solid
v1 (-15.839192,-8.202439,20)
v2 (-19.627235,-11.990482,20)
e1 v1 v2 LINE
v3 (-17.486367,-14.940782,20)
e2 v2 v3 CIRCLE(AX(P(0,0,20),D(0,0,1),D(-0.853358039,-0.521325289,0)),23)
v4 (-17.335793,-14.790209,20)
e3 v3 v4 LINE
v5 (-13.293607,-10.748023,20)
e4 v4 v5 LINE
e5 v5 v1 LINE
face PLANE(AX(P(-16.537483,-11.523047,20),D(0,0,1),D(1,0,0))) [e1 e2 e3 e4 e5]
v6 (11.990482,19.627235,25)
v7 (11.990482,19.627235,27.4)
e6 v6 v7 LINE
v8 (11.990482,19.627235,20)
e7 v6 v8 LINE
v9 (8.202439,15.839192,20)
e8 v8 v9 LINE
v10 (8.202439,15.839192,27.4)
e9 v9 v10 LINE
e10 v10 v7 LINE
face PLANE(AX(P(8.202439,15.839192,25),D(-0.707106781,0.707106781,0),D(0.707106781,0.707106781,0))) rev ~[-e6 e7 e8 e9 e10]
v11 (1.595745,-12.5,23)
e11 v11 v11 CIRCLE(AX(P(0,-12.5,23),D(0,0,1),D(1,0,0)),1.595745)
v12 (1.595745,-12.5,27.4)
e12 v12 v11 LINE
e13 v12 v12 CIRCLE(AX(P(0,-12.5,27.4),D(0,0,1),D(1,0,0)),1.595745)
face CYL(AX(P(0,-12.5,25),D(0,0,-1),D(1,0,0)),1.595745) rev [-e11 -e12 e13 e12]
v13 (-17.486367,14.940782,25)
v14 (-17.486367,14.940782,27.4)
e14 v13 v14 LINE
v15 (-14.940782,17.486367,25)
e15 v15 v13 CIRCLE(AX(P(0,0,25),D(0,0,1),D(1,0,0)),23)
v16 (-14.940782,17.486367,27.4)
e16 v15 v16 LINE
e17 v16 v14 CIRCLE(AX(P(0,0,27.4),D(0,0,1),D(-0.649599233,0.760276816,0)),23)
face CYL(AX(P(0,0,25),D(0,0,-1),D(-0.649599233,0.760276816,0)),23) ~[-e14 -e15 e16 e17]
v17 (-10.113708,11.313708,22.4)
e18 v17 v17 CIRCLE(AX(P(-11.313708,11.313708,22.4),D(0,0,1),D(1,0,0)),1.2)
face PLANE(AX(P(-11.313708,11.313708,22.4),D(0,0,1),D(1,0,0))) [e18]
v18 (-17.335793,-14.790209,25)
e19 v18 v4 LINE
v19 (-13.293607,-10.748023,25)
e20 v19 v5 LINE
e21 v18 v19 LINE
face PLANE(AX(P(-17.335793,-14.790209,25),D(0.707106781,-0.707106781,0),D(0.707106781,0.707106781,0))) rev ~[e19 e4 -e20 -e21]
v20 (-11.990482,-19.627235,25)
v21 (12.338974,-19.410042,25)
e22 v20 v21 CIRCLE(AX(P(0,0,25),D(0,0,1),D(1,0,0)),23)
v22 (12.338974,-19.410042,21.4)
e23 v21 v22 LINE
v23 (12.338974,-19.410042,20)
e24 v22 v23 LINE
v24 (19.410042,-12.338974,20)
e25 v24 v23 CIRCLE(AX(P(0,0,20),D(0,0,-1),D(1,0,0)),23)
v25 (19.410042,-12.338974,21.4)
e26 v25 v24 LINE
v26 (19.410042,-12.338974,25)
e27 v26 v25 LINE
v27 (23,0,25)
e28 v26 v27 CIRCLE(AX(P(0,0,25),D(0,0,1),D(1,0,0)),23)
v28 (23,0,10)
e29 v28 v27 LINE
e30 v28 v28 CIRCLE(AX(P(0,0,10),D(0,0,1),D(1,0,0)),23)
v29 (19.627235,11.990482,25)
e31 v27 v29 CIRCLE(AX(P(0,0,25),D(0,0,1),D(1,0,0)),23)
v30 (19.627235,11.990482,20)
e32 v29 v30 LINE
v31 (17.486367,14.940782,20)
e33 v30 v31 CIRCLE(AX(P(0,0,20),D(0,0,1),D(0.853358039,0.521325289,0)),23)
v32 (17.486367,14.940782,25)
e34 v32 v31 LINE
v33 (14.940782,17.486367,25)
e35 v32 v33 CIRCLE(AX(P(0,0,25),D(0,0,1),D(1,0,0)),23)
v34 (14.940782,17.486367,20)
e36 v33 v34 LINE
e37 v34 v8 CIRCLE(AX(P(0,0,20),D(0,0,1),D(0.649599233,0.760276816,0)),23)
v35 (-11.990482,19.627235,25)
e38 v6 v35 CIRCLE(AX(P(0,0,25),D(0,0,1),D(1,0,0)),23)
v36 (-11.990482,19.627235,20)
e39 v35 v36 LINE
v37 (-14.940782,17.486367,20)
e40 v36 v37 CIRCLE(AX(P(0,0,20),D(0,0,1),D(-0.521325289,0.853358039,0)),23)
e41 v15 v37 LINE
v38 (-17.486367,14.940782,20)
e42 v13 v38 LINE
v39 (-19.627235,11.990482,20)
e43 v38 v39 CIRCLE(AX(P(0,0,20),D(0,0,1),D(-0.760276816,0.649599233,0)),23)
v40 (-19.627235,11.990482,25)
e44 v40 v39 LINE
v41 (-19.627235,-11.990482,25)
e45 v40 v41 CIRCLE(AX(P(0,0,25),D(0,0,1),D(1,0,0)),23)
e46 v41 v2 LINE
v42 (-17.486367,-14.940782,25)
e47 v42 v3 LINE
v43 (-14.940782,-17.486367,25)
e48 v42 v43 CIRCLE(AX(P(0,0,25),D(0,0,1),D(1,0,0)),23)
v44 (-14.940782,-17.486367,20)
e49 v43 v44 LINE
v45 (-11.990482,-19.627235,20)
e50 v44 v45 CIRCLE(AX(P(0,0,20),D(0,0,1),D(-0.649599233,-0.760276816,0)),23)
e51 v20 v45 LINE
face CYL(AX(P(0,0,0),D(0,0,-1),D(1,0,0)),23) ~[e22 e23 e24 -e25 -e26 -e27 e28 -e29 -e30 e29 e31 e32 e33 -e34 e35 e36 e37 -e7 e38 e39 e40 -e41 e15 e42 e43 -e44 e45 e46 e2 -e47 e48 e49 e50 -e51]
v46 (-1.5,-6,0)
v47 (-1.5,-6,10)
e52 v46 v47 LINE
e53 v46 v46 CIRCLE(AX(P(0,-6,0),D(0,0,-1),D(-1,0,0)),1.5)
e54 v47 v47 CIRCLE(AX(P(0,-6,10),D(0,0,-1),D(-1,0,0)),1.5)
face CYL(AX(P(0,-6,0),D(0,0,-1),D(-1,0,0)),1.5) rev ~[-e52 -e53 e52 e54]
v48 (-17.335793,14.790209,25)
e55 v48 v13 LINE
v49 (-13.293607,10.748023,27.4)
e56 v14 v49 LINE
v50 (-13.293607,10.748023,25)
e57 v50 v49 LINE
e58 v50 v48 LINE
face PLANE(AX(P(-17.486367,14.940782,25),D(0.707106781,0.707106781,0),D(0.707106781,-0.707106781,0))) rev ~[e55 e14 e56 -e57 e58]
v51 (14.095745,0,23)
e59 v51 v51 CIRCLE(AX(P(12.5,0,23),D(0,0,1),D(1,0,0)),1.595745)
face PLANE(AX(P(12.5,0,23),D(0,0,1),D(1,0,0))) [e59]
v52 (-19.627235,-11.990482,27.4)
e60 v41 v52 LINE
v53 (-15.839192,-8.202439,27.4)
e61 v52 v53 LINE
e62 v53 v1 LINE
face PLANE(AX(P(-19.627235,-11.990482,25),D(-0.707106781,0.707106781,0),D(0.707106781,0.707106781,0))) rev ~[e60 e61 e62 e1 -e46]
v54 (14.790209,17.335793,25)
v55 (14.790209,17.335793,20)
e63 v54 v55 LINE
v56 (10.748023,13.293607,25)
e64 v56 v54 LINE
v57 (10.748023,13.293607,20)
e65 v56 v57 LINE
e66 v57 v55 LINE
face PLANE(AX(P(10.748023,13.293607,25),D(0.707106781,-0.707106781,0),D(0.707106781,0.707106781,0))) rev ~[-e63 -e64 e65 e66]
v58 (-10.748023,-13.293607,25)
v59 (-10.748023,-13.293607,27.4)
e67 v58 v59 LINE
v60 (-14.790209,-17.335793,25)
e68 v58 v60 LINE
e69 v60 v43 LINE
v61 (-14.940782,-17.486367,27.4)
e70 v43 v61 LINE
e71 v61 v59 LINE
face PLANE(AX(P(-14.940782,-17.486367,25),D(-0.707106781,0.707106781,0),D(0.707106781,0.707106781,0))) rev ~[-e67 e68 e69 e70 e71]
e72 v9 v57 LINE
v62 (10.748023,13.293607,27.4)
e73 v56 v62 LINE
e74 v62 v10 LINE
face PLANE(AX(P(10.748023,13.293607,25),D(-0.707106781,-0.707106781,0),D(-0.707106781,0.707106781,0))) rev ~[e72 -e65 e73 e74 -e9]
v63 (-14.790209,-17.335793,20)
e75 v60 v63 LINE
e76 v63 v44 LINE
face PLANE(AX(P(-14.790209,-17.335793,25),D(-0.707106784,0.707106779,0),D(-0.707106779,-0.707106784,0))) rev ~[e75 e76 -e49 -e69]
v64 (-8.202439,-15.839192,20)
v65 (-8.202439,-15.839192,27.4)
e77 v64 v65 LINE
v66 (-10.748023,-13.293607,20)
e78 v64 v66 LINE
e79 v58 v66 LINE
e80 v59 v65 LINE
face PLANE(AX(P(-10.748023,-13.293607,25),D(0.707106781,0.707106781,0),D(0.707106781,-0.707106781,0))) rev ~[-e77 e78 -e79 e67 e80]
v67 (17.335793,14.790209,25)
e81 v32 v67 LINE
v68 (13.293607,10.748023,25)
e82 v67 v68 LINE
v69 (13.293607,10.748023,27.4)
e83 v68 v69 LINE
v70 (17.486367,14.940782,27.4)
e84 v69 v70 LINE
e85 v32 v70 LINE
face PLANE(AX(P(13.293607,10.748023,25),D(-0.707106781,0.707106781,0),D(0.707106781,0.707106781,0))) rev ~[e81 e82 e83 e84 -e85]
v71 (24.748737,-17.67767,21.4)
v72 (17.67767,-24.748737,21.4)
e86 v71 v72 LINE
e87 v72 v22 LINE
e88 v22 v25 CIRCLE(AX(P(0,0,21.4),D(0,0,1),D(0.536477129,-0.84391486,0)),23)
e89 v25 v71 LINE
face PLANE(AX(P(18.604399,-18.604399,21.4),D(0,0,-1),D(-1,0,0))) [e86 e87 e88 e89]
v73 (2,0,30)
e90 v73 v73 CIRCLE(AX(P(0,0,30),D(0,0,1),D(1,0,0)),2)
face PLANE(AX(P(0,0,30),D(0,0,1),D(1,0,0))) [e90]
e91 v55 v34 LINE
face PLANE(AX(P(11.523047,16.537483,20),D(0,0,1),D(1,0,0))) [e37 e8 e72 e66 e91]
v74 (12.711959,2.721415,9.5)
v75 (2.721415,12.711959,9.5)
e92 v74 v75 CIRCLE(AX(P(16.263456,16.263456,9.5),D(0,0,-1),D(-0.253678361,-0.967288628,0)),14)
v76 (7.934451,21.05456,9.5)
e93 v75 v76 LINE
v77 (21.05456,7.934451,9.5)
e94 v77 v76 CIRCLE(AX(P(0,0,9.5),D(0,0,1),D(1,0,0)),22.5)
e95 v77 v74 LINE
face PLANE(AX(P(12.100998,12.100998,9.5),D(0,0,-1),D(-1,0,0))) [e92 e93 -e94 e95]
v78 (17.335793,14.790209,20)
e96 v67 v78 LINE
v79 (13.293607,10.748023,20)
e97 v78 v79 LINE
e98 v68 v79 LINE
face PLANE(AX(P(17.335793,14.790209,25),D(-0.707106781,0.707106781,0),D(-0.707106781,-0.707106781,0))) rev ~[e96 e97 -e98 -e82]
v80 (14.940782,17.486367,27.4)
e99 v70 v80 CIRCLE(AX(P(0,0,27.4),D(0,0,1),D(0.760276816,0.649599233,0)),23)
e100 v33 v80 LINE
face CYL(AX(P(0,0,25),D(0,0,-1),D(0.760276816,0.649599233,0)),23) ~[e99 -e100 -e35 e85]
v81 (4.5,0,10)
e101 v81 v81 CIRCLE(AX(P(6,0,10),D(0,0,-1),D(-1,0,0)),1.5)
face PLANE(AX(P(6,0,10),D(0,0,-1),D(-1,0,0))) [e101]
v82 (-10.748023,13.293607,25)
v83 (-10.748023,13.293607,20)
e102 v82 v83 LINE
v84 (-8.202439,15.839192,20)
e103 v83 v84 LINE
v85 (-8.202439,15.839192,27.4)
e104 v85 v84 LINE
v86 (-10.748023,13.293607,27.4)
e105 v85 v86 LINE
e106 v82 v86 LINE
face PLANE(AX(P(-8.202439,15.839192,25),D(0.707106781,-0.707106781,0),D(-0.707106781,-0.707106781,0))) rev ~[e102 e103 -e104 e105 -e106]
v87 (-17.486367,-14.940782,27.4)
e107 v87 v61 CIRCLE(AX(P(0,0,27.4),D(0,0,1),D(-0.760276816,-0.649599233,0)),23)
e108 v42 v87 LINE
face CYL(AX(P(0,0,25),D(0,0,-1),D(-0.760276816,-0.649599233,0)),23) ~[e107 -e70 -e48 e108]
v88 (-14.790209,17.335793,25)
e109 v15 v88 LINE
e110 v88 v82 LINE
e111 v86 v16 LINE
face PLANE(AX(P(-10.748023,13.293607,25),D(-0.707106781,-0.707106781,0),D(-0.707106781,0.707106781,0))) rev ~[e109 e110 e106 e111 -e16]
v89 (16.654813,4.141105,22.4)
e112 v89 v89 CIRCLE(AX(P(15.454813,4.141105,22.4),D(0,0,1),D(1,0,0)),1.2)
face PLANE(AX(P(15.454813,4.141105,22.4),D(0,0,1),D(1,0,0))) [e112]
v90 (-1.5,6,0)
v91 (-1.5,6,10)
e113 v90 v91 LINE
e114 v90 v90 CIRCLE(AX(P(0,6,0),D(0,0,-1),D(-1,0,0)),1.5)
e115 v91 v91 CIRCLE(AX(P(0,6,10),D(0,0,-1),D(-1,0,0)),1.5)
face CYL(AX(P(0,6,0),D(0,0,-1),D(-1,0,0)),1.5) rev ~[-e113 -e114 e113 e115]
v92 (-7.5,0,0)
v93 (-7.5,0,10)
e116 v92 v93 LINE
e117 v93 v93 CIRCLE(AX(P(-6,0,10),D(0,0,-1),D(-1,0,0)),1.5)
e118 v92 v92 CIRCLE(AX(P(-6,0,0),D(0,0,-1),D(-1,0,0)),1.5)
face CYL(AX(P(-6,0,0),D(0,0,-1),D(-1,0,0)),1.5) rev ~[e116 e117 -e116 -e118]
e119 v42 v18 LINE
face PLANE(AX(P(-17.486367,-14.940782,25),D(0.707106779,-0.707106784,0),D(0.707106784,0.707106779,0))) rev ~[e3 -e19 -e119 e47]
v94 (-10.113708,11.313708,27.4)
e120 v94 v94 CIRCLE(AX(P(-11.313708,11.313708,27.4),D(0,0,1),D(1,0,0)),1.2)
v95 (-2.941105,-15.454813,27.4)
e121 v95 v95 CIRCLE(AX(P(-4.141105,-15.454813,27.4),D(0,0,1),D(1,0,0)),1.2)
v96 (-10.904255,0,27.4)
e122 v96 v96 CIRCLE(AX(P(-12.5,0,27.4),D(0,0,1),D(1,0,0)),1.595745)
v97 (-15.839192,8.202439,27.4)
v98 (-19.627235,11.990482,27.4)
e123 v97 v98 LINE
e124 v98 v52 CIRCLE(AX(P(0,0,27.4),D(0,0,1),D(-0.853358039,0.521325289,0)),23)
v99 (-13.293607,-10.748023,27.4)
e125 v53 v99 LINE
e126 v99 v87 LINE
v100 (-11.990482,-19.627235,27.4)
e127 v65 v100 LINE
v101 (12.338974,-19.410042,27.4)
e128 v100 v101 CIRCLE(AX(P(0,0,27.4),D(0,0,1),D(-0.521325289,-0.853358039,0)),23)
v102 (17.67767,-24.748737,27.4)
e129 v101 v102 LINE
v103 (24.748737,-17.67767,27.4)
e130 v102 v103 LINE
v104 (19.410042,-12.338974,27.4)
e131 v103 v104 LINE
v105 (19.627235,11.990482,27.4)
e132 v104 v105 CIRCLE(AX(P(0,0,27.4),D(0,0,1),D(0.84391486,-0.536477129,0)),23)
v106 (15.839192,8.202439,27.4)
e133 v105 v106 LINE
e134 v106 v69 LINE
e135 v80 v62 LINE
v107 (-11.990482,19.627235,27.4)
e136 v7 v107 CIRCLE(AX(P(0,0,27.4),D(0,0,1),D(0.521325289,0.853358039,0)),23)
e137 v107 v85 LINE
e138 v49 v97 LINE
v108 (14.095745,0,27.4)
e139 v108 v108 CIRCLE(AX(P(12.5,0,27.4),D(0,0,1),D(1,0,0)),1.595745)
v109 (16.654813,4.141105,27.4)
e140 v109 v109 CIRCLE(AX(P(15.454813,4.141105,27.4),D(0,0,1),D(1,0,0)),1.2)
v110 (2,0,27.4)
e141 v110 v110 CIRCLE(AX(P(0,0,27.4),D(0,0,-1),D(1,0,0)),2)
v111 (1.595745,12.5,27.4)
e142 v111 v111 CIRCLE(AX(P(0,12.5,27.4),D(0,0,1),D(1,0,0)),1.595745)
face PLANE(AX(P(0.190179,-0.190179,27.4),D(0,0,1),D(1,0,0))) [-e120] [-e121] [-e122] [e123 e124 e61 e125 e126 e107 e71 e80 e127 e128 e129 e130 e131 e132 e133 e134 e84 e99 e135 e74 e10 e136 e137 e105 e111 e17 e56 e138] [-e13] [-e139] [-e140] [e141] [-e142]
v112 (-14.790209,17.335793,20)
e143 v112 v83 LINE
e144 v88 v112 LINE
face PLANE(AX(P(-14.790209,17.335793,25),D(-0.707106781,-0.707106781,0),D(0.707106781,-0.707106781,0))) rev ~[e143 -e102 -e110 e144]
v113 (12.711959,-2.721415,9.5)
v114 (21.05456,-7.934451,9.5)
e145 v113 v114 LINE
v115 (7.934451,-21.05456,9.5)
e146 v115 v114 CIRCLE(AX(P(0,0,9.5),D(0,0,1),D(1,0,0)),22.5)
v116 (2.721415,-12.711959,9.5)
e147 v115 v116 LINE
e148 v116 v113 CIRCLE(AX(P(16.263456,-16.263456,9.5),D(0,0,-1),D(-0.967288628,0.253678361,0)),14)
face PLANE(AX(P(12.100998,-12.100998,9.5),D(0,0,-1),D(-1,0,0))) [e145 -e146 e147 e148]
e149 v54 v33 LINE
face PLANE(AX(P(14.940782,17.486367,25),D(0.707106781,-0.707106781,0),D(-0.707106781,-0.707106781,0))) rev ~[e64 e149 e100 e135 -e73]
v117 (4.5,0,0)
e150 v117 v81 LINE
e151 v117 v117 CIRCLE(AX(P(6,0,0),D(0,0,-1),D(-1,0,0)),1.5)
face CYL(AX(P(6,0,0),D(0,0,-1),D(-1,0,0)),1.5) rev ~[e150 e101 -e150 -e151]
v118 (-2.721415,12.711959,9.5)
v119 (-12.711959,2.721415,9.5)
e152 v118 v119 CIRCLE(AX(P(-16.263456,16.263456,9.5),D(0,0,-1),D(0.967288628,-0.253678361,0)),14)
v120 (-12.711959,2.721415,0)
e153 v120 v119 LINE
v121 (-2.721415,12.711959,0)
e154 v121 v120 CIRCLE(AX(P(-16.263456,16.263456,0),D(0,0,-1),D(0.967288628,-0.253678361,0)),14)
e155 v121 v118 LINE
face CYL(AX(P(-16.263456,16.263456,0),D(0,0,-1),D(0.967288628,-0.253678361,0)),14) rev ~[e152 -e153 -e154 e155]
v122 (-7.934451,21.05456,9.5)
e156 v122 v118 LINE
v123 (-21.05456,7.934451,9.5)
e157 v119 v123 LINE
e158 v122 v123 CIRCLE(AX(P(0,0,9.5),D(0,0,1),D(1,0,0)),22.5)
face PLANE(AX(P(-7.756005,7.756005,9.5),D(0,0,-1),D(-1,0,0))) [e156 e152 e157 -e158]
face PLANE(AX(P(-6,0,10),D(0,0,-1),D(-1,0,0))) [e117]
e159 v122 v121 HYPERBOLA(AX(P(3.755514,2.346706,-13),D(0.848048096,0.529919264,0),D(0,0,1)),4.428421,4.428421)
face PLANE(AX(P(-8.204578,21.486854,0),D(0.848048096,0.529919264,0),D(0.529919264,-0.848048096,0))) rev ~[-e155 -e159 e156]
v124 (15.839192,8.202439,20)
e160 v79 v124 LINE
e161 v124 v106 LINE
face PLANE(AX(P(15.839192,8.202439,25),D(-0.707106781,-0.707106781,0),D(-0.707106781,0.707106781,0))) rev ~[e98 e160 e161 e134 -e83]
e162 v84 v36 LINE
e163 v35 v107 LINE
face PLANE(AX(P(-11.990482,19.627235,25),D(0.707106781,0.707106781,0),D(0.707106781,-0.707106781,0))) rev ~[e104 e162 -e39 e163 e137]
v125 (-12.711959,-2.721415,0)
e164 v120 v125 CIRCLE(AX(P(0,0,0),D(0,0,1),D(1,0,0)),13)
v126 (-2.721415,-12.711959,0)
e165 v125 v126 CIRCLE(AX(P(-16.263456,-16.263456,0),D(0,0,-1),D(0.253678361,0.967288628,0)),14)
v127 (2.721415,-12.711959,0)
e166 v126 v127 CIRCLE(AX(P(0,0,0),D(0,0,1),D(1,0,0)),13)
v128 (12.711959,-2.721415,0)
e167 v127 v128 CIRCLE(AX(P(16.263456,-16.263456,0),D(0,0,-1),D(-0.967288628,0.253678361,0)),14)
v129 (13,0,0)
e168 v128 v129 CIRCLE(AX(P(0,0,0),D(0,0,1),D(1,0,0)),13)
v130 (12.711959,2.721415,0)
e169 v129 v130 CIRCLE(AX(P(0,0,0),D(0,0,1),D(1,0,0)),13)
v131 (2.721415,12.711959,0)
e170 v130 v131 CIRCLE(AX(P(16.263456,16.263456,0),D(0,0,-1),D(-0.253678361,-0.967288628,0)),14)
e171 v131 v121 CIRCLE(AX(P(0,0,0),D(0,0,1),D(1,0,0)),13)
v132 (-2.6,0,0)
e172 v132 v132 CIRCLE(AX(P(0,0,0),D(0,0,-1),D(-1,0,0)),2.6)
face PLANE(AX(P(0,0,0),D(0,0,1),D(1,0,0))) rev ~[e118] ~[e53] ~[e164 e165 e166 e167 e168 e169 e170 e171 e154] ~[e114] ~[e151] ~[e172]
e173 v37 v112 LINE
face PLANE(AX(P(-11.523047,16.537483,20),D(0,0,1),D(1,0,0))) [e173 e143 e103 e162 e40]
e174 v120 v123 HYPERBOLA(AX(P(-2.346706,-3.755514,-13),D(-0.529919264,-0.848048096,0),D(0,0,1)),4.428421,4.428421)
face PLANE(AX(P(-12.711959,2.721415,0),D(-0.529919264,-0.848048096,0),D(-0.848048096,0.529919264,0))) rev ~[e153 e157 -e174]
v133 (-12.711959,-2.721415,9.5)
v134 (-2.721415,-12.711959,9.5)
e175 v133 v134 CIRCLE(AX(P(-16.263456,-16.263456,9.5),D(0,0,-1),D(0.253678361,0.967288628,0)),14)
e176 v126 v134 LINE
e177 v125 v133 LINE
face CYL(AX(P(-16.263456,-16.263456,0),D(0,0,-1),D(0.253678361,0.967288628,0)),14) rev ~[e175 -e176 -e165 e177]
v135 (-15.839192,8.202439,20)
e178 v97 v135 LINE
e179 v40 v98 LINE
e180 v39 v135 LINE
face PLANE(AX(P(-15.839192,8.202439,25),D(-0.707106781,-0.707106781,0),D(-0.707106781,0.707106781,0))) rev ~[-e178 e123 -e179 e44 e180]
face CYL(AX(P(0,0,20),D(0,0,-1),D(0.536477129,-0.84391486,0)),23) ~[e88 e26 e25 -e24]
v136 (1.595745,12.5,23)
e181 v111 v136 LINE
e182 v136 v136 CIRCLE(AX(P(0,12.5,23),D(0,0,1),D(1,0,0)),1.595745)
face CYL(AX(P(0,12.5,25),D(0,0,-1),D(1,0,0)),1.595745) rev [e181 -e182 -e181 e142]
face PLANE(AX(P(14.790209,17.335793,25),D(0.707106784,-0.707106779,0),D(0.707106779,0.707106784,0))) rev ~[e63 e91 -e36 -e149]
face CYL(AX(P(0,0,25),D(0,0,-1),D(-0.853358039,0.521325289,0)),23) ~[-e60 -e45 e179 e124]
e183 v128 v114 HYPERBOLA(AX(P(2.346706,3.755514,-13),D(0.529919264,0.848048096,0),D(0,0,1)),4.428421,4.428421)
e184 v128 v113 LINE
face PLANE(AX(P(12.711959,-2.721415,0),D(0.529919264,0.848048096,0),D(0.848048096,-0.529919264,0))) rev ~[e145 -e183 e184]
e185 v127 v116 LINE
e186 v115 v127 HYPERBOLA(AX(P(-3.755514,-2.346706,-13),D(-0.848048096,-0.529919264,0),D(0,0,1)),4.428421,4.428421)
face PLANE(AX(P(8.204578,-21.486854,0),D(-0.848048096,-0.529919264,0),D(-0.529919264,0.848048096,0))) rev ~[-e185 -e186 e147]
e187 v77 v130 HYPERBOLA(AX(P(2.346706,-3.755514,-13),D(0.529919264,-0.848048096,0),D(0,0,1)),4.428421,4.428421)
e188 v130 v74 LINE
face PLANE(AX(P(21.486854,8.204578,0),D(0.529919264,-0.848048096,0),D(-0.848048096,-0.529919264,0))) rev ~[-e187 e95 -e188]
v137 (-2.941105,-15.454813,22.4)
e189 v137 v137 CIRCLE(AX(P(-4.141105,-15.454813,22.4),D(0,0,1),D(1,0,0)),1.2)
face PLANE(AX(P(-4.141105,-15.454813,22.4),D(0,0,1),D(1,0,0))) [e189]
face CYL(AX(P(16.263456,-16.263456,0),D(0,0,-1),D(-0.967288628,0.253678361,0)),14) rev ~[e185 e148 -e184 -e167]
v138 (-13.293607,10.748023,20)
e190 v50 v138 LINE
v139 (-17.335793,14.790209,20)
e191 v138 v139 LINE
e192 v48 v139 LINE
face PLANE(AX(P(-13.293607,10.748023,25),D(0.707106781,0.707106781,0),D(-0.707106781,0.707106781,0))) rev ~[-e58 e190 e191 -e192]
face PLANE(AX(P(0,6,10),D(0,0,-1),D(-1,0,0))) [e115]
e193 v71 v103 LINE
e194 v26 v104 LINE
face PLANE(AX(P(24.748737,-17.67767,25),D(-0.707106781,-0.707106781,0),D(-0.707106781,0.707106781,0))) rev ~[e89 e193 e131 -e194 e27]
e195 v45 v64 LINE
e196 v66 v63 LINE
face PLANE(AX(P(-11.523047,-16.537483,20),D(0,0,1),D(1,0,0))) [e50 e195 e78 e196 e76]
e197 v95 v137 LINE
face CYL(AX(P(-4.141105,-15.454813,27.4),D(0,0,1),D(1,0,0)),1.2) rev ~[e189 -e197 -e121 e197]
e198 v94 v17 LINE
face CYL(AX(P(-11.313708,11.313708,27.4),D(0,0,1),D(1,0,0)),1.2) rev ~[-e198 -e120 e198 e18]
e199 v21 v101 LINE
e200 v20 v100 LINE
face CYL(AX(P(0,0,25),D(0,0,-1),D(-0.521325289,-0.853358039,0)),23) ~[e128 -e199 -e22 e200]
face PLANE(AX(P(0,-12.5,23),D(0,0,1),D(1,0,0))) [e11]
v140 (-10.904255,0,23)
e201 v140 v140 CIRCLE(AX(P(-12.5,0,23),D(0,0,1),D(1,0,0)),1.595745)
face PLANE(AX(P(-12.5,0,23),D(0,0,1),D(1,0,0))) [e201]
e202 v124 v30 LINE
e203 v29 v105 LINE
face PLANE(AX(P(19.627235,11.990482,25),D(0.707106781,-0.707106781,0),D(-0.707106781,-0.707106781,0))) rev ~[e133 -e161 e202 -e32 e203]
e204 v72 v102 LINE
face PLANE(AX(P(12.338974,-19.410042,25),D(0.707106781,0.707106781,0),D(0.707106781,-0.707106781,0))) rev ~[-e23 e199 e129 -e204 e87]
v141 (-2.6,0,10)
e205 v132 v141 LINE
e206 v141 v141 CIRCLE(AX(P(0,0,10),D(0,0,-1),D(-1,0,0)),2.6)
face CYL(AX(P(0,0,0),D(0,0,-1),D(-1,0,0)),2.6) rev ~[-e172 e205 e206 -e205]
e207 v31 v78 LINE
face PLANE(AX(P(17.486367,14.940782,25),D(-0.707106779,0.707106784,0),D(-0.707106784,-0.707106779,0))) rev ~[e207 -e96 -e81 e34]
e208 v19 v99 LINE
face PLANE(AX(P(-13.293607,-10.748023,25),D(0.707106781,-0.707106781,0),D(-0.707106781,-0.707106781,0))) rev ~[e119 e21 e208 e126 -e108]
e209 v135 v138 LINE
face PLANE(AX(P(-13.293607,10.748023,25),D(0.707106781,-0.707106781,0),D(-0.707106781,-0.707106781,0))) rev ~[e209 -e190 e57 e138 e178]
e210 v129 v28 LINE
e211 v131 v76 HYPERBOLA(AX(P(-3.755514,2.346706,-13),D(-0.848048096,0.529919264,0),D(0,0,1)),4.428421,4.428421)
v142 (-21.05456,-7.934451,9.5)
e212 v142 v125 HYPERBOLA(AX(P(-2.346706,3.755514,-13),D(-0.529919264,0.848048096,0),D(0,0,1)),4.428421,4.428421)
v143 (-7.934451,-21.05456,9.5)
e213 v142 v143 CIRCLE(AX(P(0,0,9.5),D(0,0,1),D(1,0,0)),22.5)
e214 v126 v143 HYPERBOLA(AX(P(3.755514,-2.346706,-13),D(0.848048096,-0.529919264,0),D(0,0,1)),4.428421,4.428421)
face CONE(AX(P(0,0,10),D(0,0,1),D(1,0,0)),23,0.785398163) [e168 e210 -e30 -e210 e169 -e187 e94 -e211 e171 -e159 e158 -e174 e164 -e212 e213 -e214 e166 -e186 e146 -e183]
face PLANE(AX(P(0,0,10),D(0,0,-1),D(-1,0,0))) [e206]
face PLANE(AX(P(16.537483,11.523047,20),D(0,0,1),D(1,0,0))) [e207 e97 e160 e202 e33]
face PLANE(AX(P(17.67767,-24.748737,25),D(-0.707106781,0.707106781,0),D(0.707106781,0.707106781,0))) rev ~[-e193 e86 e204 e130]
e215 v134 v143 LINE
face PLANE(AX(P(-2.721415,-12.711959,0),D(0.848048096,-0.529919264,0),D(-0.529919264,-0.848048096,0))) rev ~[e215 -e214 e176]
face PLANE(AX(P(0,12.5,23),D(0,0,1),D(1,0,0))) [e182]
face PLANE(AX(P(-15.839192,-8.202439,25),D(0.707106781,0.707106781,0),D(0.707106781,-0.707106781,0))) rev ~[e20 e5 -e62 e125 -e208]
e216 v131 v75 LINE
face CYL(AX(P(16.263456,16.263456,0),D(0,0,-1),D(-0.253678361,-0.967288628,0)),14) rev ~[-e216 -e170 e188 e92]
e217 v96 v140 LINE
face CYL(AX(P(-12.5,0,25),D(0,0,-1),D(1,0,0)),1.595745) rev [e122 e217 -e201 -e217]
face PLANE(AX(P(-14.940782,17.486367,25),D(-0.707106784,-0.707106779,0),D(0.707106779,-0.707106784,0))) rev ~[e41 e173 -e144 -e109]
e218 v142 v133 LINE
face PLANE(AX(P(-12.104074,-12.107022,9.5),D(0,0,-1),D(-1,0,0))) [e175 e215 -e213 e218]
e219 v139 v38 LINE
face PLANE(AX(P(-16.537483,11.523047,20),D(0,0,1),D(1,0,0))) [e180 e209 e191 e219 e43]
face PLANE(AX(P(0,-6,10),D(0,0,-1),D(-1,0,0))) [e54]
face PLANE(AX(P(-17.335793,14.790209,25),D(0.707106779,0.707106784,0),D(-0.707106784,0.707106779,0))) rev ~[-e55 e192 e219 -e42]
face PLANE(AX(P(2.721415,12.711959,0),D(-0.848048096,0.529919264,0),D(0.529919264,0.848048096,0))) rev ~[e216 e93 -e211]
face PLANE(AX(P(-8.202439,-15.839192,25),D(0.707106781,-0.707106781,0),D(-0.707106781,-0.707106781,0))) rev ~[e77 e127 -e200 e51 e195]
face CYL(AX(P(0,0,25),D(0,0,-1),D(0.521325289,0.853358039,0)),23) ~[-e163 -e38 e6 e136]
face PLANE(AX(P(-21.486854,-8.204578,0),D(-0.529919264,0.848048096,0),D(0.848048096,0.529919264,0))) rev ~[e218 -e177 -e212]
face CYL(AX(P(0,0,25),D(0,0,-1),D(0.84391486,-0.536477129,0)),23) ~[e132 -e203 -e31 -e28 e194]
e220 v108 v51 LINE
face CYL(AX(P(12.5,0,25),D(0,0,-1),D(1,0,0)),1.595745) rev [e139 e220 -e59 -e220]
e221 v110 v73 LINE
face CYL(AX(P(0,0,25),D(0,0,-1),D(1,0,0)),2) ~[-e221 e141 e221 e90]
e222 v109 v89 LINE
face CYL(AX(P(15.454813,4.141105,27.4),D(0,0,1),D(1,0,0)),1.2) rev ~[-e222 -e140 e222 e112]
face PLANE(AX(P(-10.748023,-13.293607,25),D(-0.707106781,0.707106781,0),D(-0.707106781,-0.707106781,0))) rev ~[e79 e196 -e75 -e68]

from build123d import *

# Parameters (mm, degrees)
SKETCH_1_R          = 23
EXTRUDE_1_DEPTH     = 25
SKETCH_2_R          = 1.5
SKETCH_2_R_2        = 2.6
CUT_EXTRUDE_1_DEPTH = 10
SKETCH_3_R          = 2.6
EXTRUDE_2_DEPTH     = 27
CHAMFER_1_SIZE      = 10
CUT_EXTRUDE_2_DEPTH = 9.5
SKETCH_5_R          = 1.595744681
CUT_EXTRUDE_3_DEPTH = 2
SKETCH_6_R          = 2.6
CUT_EXTRUDE_4_DEPTH = 12
SKETCH_7_R          = 2
EXTRUDE_3_DEPTH     = 5
EXTRUDE_4_DEPTH     = 5
CUT_EXTRUDE_5_DEPTH = 5
SKETCH_10_R         = 1.595744681
EXTRUDE_5_DEPTH     = 2.4
CUT_EXTRUDE_6_DEPTH = 1.4
SKETCH_12_R         = 1.2
CUT_EXTRUDE_7_DEPTH = 5


with BuildPart() as part:
    # 草图1 → 凸台-拉伸1 (new body)
    with BuildSketch(Plane.XY):
        Circle(SKETCH_1_R)
    extrude(amount=EXTRUDE_1_DEPTH)

    # 草图2 → 切除-拉伸1 (cut)
    with BuildSketch(Plane(origin=(0, 0, 0), x_dir=(-1, 0, 0), z_dir=(0, 0, -1))):
        with Locations((6, 0)):
            Circle(SKETCH_2_R)
        with Locations((0, -6)):
            Circle(SKETCH_2_R)
        with Locations((-6, 0)):
            Circle(SKETCH_2_R)
        with Locations((0, 6)):
            Circle(SKETCH_2_R)
        Circle(SKETCH_2_R_2)
    extrude(amount=-CUT_EXTRUDE_1_DEPTH, mode=Mode.SUBTRACT)

    # 草图3 → 凸台-拉伸2 (add)
    with BuildSketch(Plane(origin=(0, 0, 10), x_dir=(-1, 0, 0), z_dir=(0, 0, -1))):
        Circle(SKETCH_3_R)
    extrude(amount=-EXTRUDE_2_DEPTH)

    # 倒角1
    chamfer_1_edges = [part.edges().sort_by_distance(p)[0] for p in [
        (-23, 0, 0),
    ]]
    chamfer(chamfer_1_edges, length=CHAMFER_1_SIZE)

    # 草图4 → 切除-拉伸2 (cut)
    with BuildSketch(Plane(origin=(0, 0, 0), x_dir=(-1, 0, 0), z_dir=(0, 0, -1))):
        with BuildLine():
            ThreePointArc((3.800832161, -12.431961828), (3.264127324, -12.583539757), (2.72141518, -12.711958913))
            Line((2.72141518, -12.711958913), (8.204578209, -21.486854037))
            ThreePointArc((8.204578209, -21.486854037), (16.263455967, -16.263455967), (21.486854037, -8.204578209))
            Line((21.486854037, -8.204578209), (12.711958913, -2.72141518))
            ThreePointArc((12.711958913, -2.72141518), (9.578191182, -8.789667439), (3.800832161, -12.431961828))
        make_face()
        with BuildLine():
            ThreePointArc((12.711958913, -2.72141518), (6.363961031, -6.363961031), (2.72141518, -12.711958913))
            ThreePointArc((2.72141518, -12.711958913), (3.264127324, -12.583539757), (3.800832161, -12.431961828))
            ThreePointArc((3.800832161, -12.431961828), (9.578191182, -8.789667439), (12.711958913, -2.72141518))
        make_face()
        with BuildLine():
            ThreePointArc((2.72141518, 12.711958913), (6.363961031, 6.363961031), (12.711958913, 2.72141518))
            ThreePointArc((12.711958913, 2.72141518), (9.192388155, 9.192388155), (2.72141518, 12.711958913))
        make_face()
        with BuildLine():
            ThreePointArc((2.72141518, 12.711958913), (9.192388155, 9.192388155), (12.711958913, 2.72141518))
            Line((12.711958913, 2.72141518), (21.486854037, 8.204578209))
            ThreePointArc((21.486854037, 8.204578209), (16.263455967, 16.263455967), (8.204578209, 21.486854037))
            Line((8.204578209, 21.486854037), (2.72141518, 12.711958913))
        make_face()
        with BuildLine():
            Line((-21.486854037, 8.204578209), (-12.711958913, 2.72141518))
            ThreePointArc((-12.711958913, 2.72141518), (-9.192388155, 9.192388155), (-2.72141518, 12.711958913))
            Line((-2.72141518, 12.711958913), (-8.204578209, 21.486854037))
            ThreePointArc((-8.204578209, 21.486854037), (-16.263455967, 16.263455967), (-21.486854037, 8.204578209))
        make_face()
        with BuildLine():
            ThreePointArc((-2.72141518, 12.711958913), (-9.192388155, 9.192388155), (-12.711958913, 2.72141518))
            ThreePointArc((-12.711958913, 2.72141518), (-6.363961031, 6.363961031), (-2.72141518, 12.711958913))
        make_face()
        with BuildLine():
            Line((-8.204578209, -21.486854037), (-2.72141518, -12.711958913))
            ThreePointArc((-2.72141518, -12.711958913), (-9.192388155, -9.192388155), (-12.711958913, -2.72141518))
            Line((-12.711958913, -2.72141518), (-21.486854037, -8.204578209))
            ThreePointArc((-21.486854037, -8.204578209), (-16.263455967, -16.263455967), (-8.204578209, -21.486854037))
        make_face()
        with BuildLine():
            ThreePointArc((-12.711958913, -2.72141518), (-9.192388155, -9.192388155), (-2.72141518, -12.711958913))
            ThreePointArc((-2.72141518, -12.711958913), (-6.363961031, -6.363961031), (-12.711958913, -2.72141518))
        make_face()
    extrude(amount=-CUT_EXTRUDE_2_DEPTH, mode=Mode.SUBTRACT)

    # 草图5 → 切除-拉伸3 (cut)
    with BuildSketch(Plane.XY.offset(25)):
        with Locations((0, 12.5)):
            Circle(SKETCH_5_R)
        with Locations((12.5, 0)):
            Circle(SKETCH_5_R)
        with Locations((0, -12.5)):
            Circle(SKETCH_5_R)
        with Locations((-12.5, 0)):
            Circle(SKETCH_5_R)
    extrude(amount=-CUT_EXTRUDE_3_DEPTH, mode=Mode.SUBTRACT)

    # 草图6 → 切除-拉伸4 (cut)
    with BuildSketch(Plane.XY.offset(37)):
        Circle(SKETCH_6_R)
    extrude(amount=-CUT_EXTRUDE_4_DEPTH, mode=Mode.SUBTRACT)

    # 草图7 → 凸台-拉伸3 (add)
    with BuildSketch(Plane.XY.offset(25)):
        Circle(SKETCH_7_R)
    extrude(amount=EXTRUDE_3_DEPTH)

    # 草图8 → 凸台-拉伸4 (add)
    with BuildSketch(Plane.XY.offset(25)):
        Polygon((17.67766953, -24.748737342), (24.748737342, -17.67766953), (17.597575781, -10.526507969), (10.526507969, -17.597575781), align=None)
    extrude(amount=-EXTRUDE_4_DEPTH)

    # 草图9 → 切除-拉伸5 (cut)
    with BuildSketch(Plane.XY.offset(25)):
        with BuildLine():
            Line((-17.335793171, 14.790208759), (-17.486366766, 14.940782353))
            ThreePointArc((-17.486366766, 14.940782353), (-18.615341136, 13.50811143), (-19.627234895, 11.990481658))
            Line((-19.627234895, 11.990481658), (-15.839191899, 8.202438662))
            Line((-15.839191899, 8.202438662), (-13.293607486, 10.748023074))
            Line((-13.293607486, 10.748023074), (-17.335793171, 14.790208759))
        make_face()
        with BuildLine():
            Line((-8.202438662, 15.839191899), (-11.990481658, 19.627234895))
            ThreePointArc((-11.990481658, 19.627234895), (-13.50811143, 18.615341136), (-14.940782353, 17.486366766))
            Line((-14.940782353, 17.486366766), (-14.790208759, 17.335793171))
            Line((-14.790208759, 17.335793171), (-10.748023074, 13.293607486))
            Line((-10.748023074, 13.293607486), (-8.202438662, 15.839191899))
        make_face()
        with BuildLine():
            Line((8.202438662, 15.839191899), (10.748023074, 13.293607486))
            Line((10.748023074, 13.293607486), (14.790208759, 17.335793171))
            Line((14.790208759, 17.335793171), (14.940782353, 17.486366766))
            ThreePointArc((14.940782353, 17.486366766), (13.50811143, 18.615341136), (11.990481658, 19.627234895))
            Line((11.990481658, 19.627234895), (8.202438662, 15.839191899))
        make_face()
        with BuildLine():
            ThreePointArc((19.627234895, 11.990481658), (18.615341136, 13.50811143), (17.486366766, 14.940782353))
            Line((17.486366766, 14.940782353), (17.335793171, 14.790208759))
            Line((17.335793171, 14.790208759), (13.293607486, 10.748023074))
            Line((13.293607486, 10.748023074), (15.839191899, 8.202438662))
            Line((15.839191899, 8.202438662), (19.627234895, 11.990481658))
        make_face()
        with BuildLine():
            Line((-14.790208759, -17.335793171), (-14.940782353, -17.486366766))
            ThreePointArc((-14.940782353, -17.486366766), (-13.50811143, -18.615341136), (-11.990481658, -19.627234895))
            Line((-11.990481658, -19.627234895), (-8.202438662, -15.839191899))
            Line((-8.202438662, -15.839191899), (-10.748023074, -13.293607486))
            Line((-10.748023074, -13.293607486), (-14.790208759, -17.335793171))
        make_face()
        with BuildLine():
            Line((-15.839191899, -8.202438662), (-19.627234895, -11.990481658))
            ThreePointArc((-19.627234895, -11.990481658), (-18.615341136, -13.50811143), (-17.486366766, -14.940782353))
            Line((-17.486366766, -14.940782353), (-17.335793171, -14.790208759))
            Line((-17.335793171, -14.790208759), (-13.293607486, -10.748023074))
            Line((-13.293607486, -10.748023074), (-15.839191899, -8.202438662))
        make_face()
    extrude(amount=-CUT_EXTRUDE_5_DEPTH, mode=Mode.SUBTRACT)

    # 草图10 → 凸台-拉伸5 (add)
    with BuildSketch(Plane.XY.offset(25)):
        with BuildLine():
            Line((-10.748023074, -13.293607486), (-8.202438662, -15.839191899))
            Line((-8.202438662, -15.839191899), (-11.990481658, -19.627234895))
            ThreePointArc((-11.990481658, -19.627234895), (0.205316668, -22.99908357), (12.33897396, -19.410041772))
            Line((12.33897396, -19.410041772), (17.67766953, -24.748737342))
            Line((17.67766953, -24.748737342), (24.748737342, -17.67766953))
            Line((24.748737342, -17.67766953), (19.410041772, -12.33897396))
            ThreePointArc((19.410041772, -12.33897396), (22.99908357, -0.205316668), (19.627234895, 11.990481658))
            Line((19.627234895, 11.990481658), (15.839191899, 8.202438662))
            Line((15.839191899, 8.202438662), (13.293607486, 10.748023074))
            Line((13.293607486, 10.748023074), (17.486366766, 14.940782353))
            ThreePointArc((17.486366766, 14.940782353), (16.263455967, 16.263455967), (14.940782353, 17.486366766))
            Line((14.940782353, 17.486366766), (10.748023074, 13.293607486))
            Line((10.748023074, 13.293607486), (8.202438662, 15.839191899))
            Line((8.202438662, 15.839191899), (11.990481658, 19.627234895))
            ThreePointArc((11.990481658, 19.627234895), (0, 23), (-11.990481658, 19.627234895))
            Line((-11.990481658, 19.627234895), (-8.202438662, 15.839191899))
            Line((-8.202438662, 15.839191899), (-10.748023074, 13.293607486))
            Line((-10.748023074, 13.293607486), (-14.940782353, 17.486366766))
            ThreePointArc((-14.940782353, 17.486366766), (-16.263455967, 16.263455967), (-17.486366766, 14.940782353))
            Line((-17.486366766, 14.940782353), (-13.293607486, 10.748023074))
            Line((-13.293607486, 10.748023074), (-15.839191899, 8.202438662))
            Line((-15.839191899, 8.202438662), (-19.627234895, 11.990481658))
            ThreePointArc((-19.627234895, 11.990481658), (-23, 0), (-19.627234895, -11.990481658))
            Line((-19.627234895, -11.990481658), (-15.839191899, -8.202438662))
            Line((-15.839191899, -8.202438662), (-13.293607486, -10.748023074))
            Line((-13.293607486, -10.748023074), (-17.486366766, -14.940782353))
            ThreePointArc((-17.486366766, -14.940782353), (-16.263455967, -16.263455967), (-14.940782353, -17.486366766))
            Line((-14.940782353, -17.486366766), (-10.748023074, -13.293607486))
        make_face()
        with Locations((0, 12.5)):
            Circle(SKETCH_10_R, mode=Mode.SUBTRACT)
        with Locations((-12.5, 0)):
            Circle(SKETCH_10_R, mode=Mode.SUBTRACT)
        with Locations((0, -12.5)):
            Circle(SKETCH_10_R, mode=Mode.SUBTRACT)
        with Locations((12.5, 0)):
            Circle(SKETCH_10_R, mode=Mode.SUBTRACT)
    extrude(amount=EXTRUDE_5_DEPTH)

    # 草图11 → 切除-拉伸6 (cut)
    with BuildSketch(Plane(origin=(0, 0, 20), x_dir=(-1, 0, 0), z_dir=(0, 0, -1))):
        with BuildLine():
            Line((-17.67766953, -24.748737342), (-12.33897396, -19.410041772))
            ThreePointArc((-12.33897396, -19.410041772), (-16.263455967, -16.263455967), (-19.410041772, -12.33897396))
            Line((-19.410041772, -12.33897396), (-24.748737342, -17.67766953))
            Line((-24.748737342, -17.67766953), (-17.67766953, -24.748737342))
        make_face()
    extrude(amount=-CUT_EXTRUDE_6_DEPTH, mode=Mode.SUBTRACT)

    # 草图12 → 切除-拉伸7 (cut)
    with BuildSketch(Plane.XY.offset(27.4)):
        with Locations((15.454813221, 4.141104722)):
            Circle(SKETCH_12_R)
        with Locations((-4.141104722, -15.454813221)):
            Circle(SKETCH_12_R)
        with Locations((-11.313708499, 11.313708499)):
            Circle(SKETCH_12_R)
    extrude(amount=-CUT_EXTRUDE_7_DEPTH, mode=Mode.SUBTRACT)


solid = part.part
